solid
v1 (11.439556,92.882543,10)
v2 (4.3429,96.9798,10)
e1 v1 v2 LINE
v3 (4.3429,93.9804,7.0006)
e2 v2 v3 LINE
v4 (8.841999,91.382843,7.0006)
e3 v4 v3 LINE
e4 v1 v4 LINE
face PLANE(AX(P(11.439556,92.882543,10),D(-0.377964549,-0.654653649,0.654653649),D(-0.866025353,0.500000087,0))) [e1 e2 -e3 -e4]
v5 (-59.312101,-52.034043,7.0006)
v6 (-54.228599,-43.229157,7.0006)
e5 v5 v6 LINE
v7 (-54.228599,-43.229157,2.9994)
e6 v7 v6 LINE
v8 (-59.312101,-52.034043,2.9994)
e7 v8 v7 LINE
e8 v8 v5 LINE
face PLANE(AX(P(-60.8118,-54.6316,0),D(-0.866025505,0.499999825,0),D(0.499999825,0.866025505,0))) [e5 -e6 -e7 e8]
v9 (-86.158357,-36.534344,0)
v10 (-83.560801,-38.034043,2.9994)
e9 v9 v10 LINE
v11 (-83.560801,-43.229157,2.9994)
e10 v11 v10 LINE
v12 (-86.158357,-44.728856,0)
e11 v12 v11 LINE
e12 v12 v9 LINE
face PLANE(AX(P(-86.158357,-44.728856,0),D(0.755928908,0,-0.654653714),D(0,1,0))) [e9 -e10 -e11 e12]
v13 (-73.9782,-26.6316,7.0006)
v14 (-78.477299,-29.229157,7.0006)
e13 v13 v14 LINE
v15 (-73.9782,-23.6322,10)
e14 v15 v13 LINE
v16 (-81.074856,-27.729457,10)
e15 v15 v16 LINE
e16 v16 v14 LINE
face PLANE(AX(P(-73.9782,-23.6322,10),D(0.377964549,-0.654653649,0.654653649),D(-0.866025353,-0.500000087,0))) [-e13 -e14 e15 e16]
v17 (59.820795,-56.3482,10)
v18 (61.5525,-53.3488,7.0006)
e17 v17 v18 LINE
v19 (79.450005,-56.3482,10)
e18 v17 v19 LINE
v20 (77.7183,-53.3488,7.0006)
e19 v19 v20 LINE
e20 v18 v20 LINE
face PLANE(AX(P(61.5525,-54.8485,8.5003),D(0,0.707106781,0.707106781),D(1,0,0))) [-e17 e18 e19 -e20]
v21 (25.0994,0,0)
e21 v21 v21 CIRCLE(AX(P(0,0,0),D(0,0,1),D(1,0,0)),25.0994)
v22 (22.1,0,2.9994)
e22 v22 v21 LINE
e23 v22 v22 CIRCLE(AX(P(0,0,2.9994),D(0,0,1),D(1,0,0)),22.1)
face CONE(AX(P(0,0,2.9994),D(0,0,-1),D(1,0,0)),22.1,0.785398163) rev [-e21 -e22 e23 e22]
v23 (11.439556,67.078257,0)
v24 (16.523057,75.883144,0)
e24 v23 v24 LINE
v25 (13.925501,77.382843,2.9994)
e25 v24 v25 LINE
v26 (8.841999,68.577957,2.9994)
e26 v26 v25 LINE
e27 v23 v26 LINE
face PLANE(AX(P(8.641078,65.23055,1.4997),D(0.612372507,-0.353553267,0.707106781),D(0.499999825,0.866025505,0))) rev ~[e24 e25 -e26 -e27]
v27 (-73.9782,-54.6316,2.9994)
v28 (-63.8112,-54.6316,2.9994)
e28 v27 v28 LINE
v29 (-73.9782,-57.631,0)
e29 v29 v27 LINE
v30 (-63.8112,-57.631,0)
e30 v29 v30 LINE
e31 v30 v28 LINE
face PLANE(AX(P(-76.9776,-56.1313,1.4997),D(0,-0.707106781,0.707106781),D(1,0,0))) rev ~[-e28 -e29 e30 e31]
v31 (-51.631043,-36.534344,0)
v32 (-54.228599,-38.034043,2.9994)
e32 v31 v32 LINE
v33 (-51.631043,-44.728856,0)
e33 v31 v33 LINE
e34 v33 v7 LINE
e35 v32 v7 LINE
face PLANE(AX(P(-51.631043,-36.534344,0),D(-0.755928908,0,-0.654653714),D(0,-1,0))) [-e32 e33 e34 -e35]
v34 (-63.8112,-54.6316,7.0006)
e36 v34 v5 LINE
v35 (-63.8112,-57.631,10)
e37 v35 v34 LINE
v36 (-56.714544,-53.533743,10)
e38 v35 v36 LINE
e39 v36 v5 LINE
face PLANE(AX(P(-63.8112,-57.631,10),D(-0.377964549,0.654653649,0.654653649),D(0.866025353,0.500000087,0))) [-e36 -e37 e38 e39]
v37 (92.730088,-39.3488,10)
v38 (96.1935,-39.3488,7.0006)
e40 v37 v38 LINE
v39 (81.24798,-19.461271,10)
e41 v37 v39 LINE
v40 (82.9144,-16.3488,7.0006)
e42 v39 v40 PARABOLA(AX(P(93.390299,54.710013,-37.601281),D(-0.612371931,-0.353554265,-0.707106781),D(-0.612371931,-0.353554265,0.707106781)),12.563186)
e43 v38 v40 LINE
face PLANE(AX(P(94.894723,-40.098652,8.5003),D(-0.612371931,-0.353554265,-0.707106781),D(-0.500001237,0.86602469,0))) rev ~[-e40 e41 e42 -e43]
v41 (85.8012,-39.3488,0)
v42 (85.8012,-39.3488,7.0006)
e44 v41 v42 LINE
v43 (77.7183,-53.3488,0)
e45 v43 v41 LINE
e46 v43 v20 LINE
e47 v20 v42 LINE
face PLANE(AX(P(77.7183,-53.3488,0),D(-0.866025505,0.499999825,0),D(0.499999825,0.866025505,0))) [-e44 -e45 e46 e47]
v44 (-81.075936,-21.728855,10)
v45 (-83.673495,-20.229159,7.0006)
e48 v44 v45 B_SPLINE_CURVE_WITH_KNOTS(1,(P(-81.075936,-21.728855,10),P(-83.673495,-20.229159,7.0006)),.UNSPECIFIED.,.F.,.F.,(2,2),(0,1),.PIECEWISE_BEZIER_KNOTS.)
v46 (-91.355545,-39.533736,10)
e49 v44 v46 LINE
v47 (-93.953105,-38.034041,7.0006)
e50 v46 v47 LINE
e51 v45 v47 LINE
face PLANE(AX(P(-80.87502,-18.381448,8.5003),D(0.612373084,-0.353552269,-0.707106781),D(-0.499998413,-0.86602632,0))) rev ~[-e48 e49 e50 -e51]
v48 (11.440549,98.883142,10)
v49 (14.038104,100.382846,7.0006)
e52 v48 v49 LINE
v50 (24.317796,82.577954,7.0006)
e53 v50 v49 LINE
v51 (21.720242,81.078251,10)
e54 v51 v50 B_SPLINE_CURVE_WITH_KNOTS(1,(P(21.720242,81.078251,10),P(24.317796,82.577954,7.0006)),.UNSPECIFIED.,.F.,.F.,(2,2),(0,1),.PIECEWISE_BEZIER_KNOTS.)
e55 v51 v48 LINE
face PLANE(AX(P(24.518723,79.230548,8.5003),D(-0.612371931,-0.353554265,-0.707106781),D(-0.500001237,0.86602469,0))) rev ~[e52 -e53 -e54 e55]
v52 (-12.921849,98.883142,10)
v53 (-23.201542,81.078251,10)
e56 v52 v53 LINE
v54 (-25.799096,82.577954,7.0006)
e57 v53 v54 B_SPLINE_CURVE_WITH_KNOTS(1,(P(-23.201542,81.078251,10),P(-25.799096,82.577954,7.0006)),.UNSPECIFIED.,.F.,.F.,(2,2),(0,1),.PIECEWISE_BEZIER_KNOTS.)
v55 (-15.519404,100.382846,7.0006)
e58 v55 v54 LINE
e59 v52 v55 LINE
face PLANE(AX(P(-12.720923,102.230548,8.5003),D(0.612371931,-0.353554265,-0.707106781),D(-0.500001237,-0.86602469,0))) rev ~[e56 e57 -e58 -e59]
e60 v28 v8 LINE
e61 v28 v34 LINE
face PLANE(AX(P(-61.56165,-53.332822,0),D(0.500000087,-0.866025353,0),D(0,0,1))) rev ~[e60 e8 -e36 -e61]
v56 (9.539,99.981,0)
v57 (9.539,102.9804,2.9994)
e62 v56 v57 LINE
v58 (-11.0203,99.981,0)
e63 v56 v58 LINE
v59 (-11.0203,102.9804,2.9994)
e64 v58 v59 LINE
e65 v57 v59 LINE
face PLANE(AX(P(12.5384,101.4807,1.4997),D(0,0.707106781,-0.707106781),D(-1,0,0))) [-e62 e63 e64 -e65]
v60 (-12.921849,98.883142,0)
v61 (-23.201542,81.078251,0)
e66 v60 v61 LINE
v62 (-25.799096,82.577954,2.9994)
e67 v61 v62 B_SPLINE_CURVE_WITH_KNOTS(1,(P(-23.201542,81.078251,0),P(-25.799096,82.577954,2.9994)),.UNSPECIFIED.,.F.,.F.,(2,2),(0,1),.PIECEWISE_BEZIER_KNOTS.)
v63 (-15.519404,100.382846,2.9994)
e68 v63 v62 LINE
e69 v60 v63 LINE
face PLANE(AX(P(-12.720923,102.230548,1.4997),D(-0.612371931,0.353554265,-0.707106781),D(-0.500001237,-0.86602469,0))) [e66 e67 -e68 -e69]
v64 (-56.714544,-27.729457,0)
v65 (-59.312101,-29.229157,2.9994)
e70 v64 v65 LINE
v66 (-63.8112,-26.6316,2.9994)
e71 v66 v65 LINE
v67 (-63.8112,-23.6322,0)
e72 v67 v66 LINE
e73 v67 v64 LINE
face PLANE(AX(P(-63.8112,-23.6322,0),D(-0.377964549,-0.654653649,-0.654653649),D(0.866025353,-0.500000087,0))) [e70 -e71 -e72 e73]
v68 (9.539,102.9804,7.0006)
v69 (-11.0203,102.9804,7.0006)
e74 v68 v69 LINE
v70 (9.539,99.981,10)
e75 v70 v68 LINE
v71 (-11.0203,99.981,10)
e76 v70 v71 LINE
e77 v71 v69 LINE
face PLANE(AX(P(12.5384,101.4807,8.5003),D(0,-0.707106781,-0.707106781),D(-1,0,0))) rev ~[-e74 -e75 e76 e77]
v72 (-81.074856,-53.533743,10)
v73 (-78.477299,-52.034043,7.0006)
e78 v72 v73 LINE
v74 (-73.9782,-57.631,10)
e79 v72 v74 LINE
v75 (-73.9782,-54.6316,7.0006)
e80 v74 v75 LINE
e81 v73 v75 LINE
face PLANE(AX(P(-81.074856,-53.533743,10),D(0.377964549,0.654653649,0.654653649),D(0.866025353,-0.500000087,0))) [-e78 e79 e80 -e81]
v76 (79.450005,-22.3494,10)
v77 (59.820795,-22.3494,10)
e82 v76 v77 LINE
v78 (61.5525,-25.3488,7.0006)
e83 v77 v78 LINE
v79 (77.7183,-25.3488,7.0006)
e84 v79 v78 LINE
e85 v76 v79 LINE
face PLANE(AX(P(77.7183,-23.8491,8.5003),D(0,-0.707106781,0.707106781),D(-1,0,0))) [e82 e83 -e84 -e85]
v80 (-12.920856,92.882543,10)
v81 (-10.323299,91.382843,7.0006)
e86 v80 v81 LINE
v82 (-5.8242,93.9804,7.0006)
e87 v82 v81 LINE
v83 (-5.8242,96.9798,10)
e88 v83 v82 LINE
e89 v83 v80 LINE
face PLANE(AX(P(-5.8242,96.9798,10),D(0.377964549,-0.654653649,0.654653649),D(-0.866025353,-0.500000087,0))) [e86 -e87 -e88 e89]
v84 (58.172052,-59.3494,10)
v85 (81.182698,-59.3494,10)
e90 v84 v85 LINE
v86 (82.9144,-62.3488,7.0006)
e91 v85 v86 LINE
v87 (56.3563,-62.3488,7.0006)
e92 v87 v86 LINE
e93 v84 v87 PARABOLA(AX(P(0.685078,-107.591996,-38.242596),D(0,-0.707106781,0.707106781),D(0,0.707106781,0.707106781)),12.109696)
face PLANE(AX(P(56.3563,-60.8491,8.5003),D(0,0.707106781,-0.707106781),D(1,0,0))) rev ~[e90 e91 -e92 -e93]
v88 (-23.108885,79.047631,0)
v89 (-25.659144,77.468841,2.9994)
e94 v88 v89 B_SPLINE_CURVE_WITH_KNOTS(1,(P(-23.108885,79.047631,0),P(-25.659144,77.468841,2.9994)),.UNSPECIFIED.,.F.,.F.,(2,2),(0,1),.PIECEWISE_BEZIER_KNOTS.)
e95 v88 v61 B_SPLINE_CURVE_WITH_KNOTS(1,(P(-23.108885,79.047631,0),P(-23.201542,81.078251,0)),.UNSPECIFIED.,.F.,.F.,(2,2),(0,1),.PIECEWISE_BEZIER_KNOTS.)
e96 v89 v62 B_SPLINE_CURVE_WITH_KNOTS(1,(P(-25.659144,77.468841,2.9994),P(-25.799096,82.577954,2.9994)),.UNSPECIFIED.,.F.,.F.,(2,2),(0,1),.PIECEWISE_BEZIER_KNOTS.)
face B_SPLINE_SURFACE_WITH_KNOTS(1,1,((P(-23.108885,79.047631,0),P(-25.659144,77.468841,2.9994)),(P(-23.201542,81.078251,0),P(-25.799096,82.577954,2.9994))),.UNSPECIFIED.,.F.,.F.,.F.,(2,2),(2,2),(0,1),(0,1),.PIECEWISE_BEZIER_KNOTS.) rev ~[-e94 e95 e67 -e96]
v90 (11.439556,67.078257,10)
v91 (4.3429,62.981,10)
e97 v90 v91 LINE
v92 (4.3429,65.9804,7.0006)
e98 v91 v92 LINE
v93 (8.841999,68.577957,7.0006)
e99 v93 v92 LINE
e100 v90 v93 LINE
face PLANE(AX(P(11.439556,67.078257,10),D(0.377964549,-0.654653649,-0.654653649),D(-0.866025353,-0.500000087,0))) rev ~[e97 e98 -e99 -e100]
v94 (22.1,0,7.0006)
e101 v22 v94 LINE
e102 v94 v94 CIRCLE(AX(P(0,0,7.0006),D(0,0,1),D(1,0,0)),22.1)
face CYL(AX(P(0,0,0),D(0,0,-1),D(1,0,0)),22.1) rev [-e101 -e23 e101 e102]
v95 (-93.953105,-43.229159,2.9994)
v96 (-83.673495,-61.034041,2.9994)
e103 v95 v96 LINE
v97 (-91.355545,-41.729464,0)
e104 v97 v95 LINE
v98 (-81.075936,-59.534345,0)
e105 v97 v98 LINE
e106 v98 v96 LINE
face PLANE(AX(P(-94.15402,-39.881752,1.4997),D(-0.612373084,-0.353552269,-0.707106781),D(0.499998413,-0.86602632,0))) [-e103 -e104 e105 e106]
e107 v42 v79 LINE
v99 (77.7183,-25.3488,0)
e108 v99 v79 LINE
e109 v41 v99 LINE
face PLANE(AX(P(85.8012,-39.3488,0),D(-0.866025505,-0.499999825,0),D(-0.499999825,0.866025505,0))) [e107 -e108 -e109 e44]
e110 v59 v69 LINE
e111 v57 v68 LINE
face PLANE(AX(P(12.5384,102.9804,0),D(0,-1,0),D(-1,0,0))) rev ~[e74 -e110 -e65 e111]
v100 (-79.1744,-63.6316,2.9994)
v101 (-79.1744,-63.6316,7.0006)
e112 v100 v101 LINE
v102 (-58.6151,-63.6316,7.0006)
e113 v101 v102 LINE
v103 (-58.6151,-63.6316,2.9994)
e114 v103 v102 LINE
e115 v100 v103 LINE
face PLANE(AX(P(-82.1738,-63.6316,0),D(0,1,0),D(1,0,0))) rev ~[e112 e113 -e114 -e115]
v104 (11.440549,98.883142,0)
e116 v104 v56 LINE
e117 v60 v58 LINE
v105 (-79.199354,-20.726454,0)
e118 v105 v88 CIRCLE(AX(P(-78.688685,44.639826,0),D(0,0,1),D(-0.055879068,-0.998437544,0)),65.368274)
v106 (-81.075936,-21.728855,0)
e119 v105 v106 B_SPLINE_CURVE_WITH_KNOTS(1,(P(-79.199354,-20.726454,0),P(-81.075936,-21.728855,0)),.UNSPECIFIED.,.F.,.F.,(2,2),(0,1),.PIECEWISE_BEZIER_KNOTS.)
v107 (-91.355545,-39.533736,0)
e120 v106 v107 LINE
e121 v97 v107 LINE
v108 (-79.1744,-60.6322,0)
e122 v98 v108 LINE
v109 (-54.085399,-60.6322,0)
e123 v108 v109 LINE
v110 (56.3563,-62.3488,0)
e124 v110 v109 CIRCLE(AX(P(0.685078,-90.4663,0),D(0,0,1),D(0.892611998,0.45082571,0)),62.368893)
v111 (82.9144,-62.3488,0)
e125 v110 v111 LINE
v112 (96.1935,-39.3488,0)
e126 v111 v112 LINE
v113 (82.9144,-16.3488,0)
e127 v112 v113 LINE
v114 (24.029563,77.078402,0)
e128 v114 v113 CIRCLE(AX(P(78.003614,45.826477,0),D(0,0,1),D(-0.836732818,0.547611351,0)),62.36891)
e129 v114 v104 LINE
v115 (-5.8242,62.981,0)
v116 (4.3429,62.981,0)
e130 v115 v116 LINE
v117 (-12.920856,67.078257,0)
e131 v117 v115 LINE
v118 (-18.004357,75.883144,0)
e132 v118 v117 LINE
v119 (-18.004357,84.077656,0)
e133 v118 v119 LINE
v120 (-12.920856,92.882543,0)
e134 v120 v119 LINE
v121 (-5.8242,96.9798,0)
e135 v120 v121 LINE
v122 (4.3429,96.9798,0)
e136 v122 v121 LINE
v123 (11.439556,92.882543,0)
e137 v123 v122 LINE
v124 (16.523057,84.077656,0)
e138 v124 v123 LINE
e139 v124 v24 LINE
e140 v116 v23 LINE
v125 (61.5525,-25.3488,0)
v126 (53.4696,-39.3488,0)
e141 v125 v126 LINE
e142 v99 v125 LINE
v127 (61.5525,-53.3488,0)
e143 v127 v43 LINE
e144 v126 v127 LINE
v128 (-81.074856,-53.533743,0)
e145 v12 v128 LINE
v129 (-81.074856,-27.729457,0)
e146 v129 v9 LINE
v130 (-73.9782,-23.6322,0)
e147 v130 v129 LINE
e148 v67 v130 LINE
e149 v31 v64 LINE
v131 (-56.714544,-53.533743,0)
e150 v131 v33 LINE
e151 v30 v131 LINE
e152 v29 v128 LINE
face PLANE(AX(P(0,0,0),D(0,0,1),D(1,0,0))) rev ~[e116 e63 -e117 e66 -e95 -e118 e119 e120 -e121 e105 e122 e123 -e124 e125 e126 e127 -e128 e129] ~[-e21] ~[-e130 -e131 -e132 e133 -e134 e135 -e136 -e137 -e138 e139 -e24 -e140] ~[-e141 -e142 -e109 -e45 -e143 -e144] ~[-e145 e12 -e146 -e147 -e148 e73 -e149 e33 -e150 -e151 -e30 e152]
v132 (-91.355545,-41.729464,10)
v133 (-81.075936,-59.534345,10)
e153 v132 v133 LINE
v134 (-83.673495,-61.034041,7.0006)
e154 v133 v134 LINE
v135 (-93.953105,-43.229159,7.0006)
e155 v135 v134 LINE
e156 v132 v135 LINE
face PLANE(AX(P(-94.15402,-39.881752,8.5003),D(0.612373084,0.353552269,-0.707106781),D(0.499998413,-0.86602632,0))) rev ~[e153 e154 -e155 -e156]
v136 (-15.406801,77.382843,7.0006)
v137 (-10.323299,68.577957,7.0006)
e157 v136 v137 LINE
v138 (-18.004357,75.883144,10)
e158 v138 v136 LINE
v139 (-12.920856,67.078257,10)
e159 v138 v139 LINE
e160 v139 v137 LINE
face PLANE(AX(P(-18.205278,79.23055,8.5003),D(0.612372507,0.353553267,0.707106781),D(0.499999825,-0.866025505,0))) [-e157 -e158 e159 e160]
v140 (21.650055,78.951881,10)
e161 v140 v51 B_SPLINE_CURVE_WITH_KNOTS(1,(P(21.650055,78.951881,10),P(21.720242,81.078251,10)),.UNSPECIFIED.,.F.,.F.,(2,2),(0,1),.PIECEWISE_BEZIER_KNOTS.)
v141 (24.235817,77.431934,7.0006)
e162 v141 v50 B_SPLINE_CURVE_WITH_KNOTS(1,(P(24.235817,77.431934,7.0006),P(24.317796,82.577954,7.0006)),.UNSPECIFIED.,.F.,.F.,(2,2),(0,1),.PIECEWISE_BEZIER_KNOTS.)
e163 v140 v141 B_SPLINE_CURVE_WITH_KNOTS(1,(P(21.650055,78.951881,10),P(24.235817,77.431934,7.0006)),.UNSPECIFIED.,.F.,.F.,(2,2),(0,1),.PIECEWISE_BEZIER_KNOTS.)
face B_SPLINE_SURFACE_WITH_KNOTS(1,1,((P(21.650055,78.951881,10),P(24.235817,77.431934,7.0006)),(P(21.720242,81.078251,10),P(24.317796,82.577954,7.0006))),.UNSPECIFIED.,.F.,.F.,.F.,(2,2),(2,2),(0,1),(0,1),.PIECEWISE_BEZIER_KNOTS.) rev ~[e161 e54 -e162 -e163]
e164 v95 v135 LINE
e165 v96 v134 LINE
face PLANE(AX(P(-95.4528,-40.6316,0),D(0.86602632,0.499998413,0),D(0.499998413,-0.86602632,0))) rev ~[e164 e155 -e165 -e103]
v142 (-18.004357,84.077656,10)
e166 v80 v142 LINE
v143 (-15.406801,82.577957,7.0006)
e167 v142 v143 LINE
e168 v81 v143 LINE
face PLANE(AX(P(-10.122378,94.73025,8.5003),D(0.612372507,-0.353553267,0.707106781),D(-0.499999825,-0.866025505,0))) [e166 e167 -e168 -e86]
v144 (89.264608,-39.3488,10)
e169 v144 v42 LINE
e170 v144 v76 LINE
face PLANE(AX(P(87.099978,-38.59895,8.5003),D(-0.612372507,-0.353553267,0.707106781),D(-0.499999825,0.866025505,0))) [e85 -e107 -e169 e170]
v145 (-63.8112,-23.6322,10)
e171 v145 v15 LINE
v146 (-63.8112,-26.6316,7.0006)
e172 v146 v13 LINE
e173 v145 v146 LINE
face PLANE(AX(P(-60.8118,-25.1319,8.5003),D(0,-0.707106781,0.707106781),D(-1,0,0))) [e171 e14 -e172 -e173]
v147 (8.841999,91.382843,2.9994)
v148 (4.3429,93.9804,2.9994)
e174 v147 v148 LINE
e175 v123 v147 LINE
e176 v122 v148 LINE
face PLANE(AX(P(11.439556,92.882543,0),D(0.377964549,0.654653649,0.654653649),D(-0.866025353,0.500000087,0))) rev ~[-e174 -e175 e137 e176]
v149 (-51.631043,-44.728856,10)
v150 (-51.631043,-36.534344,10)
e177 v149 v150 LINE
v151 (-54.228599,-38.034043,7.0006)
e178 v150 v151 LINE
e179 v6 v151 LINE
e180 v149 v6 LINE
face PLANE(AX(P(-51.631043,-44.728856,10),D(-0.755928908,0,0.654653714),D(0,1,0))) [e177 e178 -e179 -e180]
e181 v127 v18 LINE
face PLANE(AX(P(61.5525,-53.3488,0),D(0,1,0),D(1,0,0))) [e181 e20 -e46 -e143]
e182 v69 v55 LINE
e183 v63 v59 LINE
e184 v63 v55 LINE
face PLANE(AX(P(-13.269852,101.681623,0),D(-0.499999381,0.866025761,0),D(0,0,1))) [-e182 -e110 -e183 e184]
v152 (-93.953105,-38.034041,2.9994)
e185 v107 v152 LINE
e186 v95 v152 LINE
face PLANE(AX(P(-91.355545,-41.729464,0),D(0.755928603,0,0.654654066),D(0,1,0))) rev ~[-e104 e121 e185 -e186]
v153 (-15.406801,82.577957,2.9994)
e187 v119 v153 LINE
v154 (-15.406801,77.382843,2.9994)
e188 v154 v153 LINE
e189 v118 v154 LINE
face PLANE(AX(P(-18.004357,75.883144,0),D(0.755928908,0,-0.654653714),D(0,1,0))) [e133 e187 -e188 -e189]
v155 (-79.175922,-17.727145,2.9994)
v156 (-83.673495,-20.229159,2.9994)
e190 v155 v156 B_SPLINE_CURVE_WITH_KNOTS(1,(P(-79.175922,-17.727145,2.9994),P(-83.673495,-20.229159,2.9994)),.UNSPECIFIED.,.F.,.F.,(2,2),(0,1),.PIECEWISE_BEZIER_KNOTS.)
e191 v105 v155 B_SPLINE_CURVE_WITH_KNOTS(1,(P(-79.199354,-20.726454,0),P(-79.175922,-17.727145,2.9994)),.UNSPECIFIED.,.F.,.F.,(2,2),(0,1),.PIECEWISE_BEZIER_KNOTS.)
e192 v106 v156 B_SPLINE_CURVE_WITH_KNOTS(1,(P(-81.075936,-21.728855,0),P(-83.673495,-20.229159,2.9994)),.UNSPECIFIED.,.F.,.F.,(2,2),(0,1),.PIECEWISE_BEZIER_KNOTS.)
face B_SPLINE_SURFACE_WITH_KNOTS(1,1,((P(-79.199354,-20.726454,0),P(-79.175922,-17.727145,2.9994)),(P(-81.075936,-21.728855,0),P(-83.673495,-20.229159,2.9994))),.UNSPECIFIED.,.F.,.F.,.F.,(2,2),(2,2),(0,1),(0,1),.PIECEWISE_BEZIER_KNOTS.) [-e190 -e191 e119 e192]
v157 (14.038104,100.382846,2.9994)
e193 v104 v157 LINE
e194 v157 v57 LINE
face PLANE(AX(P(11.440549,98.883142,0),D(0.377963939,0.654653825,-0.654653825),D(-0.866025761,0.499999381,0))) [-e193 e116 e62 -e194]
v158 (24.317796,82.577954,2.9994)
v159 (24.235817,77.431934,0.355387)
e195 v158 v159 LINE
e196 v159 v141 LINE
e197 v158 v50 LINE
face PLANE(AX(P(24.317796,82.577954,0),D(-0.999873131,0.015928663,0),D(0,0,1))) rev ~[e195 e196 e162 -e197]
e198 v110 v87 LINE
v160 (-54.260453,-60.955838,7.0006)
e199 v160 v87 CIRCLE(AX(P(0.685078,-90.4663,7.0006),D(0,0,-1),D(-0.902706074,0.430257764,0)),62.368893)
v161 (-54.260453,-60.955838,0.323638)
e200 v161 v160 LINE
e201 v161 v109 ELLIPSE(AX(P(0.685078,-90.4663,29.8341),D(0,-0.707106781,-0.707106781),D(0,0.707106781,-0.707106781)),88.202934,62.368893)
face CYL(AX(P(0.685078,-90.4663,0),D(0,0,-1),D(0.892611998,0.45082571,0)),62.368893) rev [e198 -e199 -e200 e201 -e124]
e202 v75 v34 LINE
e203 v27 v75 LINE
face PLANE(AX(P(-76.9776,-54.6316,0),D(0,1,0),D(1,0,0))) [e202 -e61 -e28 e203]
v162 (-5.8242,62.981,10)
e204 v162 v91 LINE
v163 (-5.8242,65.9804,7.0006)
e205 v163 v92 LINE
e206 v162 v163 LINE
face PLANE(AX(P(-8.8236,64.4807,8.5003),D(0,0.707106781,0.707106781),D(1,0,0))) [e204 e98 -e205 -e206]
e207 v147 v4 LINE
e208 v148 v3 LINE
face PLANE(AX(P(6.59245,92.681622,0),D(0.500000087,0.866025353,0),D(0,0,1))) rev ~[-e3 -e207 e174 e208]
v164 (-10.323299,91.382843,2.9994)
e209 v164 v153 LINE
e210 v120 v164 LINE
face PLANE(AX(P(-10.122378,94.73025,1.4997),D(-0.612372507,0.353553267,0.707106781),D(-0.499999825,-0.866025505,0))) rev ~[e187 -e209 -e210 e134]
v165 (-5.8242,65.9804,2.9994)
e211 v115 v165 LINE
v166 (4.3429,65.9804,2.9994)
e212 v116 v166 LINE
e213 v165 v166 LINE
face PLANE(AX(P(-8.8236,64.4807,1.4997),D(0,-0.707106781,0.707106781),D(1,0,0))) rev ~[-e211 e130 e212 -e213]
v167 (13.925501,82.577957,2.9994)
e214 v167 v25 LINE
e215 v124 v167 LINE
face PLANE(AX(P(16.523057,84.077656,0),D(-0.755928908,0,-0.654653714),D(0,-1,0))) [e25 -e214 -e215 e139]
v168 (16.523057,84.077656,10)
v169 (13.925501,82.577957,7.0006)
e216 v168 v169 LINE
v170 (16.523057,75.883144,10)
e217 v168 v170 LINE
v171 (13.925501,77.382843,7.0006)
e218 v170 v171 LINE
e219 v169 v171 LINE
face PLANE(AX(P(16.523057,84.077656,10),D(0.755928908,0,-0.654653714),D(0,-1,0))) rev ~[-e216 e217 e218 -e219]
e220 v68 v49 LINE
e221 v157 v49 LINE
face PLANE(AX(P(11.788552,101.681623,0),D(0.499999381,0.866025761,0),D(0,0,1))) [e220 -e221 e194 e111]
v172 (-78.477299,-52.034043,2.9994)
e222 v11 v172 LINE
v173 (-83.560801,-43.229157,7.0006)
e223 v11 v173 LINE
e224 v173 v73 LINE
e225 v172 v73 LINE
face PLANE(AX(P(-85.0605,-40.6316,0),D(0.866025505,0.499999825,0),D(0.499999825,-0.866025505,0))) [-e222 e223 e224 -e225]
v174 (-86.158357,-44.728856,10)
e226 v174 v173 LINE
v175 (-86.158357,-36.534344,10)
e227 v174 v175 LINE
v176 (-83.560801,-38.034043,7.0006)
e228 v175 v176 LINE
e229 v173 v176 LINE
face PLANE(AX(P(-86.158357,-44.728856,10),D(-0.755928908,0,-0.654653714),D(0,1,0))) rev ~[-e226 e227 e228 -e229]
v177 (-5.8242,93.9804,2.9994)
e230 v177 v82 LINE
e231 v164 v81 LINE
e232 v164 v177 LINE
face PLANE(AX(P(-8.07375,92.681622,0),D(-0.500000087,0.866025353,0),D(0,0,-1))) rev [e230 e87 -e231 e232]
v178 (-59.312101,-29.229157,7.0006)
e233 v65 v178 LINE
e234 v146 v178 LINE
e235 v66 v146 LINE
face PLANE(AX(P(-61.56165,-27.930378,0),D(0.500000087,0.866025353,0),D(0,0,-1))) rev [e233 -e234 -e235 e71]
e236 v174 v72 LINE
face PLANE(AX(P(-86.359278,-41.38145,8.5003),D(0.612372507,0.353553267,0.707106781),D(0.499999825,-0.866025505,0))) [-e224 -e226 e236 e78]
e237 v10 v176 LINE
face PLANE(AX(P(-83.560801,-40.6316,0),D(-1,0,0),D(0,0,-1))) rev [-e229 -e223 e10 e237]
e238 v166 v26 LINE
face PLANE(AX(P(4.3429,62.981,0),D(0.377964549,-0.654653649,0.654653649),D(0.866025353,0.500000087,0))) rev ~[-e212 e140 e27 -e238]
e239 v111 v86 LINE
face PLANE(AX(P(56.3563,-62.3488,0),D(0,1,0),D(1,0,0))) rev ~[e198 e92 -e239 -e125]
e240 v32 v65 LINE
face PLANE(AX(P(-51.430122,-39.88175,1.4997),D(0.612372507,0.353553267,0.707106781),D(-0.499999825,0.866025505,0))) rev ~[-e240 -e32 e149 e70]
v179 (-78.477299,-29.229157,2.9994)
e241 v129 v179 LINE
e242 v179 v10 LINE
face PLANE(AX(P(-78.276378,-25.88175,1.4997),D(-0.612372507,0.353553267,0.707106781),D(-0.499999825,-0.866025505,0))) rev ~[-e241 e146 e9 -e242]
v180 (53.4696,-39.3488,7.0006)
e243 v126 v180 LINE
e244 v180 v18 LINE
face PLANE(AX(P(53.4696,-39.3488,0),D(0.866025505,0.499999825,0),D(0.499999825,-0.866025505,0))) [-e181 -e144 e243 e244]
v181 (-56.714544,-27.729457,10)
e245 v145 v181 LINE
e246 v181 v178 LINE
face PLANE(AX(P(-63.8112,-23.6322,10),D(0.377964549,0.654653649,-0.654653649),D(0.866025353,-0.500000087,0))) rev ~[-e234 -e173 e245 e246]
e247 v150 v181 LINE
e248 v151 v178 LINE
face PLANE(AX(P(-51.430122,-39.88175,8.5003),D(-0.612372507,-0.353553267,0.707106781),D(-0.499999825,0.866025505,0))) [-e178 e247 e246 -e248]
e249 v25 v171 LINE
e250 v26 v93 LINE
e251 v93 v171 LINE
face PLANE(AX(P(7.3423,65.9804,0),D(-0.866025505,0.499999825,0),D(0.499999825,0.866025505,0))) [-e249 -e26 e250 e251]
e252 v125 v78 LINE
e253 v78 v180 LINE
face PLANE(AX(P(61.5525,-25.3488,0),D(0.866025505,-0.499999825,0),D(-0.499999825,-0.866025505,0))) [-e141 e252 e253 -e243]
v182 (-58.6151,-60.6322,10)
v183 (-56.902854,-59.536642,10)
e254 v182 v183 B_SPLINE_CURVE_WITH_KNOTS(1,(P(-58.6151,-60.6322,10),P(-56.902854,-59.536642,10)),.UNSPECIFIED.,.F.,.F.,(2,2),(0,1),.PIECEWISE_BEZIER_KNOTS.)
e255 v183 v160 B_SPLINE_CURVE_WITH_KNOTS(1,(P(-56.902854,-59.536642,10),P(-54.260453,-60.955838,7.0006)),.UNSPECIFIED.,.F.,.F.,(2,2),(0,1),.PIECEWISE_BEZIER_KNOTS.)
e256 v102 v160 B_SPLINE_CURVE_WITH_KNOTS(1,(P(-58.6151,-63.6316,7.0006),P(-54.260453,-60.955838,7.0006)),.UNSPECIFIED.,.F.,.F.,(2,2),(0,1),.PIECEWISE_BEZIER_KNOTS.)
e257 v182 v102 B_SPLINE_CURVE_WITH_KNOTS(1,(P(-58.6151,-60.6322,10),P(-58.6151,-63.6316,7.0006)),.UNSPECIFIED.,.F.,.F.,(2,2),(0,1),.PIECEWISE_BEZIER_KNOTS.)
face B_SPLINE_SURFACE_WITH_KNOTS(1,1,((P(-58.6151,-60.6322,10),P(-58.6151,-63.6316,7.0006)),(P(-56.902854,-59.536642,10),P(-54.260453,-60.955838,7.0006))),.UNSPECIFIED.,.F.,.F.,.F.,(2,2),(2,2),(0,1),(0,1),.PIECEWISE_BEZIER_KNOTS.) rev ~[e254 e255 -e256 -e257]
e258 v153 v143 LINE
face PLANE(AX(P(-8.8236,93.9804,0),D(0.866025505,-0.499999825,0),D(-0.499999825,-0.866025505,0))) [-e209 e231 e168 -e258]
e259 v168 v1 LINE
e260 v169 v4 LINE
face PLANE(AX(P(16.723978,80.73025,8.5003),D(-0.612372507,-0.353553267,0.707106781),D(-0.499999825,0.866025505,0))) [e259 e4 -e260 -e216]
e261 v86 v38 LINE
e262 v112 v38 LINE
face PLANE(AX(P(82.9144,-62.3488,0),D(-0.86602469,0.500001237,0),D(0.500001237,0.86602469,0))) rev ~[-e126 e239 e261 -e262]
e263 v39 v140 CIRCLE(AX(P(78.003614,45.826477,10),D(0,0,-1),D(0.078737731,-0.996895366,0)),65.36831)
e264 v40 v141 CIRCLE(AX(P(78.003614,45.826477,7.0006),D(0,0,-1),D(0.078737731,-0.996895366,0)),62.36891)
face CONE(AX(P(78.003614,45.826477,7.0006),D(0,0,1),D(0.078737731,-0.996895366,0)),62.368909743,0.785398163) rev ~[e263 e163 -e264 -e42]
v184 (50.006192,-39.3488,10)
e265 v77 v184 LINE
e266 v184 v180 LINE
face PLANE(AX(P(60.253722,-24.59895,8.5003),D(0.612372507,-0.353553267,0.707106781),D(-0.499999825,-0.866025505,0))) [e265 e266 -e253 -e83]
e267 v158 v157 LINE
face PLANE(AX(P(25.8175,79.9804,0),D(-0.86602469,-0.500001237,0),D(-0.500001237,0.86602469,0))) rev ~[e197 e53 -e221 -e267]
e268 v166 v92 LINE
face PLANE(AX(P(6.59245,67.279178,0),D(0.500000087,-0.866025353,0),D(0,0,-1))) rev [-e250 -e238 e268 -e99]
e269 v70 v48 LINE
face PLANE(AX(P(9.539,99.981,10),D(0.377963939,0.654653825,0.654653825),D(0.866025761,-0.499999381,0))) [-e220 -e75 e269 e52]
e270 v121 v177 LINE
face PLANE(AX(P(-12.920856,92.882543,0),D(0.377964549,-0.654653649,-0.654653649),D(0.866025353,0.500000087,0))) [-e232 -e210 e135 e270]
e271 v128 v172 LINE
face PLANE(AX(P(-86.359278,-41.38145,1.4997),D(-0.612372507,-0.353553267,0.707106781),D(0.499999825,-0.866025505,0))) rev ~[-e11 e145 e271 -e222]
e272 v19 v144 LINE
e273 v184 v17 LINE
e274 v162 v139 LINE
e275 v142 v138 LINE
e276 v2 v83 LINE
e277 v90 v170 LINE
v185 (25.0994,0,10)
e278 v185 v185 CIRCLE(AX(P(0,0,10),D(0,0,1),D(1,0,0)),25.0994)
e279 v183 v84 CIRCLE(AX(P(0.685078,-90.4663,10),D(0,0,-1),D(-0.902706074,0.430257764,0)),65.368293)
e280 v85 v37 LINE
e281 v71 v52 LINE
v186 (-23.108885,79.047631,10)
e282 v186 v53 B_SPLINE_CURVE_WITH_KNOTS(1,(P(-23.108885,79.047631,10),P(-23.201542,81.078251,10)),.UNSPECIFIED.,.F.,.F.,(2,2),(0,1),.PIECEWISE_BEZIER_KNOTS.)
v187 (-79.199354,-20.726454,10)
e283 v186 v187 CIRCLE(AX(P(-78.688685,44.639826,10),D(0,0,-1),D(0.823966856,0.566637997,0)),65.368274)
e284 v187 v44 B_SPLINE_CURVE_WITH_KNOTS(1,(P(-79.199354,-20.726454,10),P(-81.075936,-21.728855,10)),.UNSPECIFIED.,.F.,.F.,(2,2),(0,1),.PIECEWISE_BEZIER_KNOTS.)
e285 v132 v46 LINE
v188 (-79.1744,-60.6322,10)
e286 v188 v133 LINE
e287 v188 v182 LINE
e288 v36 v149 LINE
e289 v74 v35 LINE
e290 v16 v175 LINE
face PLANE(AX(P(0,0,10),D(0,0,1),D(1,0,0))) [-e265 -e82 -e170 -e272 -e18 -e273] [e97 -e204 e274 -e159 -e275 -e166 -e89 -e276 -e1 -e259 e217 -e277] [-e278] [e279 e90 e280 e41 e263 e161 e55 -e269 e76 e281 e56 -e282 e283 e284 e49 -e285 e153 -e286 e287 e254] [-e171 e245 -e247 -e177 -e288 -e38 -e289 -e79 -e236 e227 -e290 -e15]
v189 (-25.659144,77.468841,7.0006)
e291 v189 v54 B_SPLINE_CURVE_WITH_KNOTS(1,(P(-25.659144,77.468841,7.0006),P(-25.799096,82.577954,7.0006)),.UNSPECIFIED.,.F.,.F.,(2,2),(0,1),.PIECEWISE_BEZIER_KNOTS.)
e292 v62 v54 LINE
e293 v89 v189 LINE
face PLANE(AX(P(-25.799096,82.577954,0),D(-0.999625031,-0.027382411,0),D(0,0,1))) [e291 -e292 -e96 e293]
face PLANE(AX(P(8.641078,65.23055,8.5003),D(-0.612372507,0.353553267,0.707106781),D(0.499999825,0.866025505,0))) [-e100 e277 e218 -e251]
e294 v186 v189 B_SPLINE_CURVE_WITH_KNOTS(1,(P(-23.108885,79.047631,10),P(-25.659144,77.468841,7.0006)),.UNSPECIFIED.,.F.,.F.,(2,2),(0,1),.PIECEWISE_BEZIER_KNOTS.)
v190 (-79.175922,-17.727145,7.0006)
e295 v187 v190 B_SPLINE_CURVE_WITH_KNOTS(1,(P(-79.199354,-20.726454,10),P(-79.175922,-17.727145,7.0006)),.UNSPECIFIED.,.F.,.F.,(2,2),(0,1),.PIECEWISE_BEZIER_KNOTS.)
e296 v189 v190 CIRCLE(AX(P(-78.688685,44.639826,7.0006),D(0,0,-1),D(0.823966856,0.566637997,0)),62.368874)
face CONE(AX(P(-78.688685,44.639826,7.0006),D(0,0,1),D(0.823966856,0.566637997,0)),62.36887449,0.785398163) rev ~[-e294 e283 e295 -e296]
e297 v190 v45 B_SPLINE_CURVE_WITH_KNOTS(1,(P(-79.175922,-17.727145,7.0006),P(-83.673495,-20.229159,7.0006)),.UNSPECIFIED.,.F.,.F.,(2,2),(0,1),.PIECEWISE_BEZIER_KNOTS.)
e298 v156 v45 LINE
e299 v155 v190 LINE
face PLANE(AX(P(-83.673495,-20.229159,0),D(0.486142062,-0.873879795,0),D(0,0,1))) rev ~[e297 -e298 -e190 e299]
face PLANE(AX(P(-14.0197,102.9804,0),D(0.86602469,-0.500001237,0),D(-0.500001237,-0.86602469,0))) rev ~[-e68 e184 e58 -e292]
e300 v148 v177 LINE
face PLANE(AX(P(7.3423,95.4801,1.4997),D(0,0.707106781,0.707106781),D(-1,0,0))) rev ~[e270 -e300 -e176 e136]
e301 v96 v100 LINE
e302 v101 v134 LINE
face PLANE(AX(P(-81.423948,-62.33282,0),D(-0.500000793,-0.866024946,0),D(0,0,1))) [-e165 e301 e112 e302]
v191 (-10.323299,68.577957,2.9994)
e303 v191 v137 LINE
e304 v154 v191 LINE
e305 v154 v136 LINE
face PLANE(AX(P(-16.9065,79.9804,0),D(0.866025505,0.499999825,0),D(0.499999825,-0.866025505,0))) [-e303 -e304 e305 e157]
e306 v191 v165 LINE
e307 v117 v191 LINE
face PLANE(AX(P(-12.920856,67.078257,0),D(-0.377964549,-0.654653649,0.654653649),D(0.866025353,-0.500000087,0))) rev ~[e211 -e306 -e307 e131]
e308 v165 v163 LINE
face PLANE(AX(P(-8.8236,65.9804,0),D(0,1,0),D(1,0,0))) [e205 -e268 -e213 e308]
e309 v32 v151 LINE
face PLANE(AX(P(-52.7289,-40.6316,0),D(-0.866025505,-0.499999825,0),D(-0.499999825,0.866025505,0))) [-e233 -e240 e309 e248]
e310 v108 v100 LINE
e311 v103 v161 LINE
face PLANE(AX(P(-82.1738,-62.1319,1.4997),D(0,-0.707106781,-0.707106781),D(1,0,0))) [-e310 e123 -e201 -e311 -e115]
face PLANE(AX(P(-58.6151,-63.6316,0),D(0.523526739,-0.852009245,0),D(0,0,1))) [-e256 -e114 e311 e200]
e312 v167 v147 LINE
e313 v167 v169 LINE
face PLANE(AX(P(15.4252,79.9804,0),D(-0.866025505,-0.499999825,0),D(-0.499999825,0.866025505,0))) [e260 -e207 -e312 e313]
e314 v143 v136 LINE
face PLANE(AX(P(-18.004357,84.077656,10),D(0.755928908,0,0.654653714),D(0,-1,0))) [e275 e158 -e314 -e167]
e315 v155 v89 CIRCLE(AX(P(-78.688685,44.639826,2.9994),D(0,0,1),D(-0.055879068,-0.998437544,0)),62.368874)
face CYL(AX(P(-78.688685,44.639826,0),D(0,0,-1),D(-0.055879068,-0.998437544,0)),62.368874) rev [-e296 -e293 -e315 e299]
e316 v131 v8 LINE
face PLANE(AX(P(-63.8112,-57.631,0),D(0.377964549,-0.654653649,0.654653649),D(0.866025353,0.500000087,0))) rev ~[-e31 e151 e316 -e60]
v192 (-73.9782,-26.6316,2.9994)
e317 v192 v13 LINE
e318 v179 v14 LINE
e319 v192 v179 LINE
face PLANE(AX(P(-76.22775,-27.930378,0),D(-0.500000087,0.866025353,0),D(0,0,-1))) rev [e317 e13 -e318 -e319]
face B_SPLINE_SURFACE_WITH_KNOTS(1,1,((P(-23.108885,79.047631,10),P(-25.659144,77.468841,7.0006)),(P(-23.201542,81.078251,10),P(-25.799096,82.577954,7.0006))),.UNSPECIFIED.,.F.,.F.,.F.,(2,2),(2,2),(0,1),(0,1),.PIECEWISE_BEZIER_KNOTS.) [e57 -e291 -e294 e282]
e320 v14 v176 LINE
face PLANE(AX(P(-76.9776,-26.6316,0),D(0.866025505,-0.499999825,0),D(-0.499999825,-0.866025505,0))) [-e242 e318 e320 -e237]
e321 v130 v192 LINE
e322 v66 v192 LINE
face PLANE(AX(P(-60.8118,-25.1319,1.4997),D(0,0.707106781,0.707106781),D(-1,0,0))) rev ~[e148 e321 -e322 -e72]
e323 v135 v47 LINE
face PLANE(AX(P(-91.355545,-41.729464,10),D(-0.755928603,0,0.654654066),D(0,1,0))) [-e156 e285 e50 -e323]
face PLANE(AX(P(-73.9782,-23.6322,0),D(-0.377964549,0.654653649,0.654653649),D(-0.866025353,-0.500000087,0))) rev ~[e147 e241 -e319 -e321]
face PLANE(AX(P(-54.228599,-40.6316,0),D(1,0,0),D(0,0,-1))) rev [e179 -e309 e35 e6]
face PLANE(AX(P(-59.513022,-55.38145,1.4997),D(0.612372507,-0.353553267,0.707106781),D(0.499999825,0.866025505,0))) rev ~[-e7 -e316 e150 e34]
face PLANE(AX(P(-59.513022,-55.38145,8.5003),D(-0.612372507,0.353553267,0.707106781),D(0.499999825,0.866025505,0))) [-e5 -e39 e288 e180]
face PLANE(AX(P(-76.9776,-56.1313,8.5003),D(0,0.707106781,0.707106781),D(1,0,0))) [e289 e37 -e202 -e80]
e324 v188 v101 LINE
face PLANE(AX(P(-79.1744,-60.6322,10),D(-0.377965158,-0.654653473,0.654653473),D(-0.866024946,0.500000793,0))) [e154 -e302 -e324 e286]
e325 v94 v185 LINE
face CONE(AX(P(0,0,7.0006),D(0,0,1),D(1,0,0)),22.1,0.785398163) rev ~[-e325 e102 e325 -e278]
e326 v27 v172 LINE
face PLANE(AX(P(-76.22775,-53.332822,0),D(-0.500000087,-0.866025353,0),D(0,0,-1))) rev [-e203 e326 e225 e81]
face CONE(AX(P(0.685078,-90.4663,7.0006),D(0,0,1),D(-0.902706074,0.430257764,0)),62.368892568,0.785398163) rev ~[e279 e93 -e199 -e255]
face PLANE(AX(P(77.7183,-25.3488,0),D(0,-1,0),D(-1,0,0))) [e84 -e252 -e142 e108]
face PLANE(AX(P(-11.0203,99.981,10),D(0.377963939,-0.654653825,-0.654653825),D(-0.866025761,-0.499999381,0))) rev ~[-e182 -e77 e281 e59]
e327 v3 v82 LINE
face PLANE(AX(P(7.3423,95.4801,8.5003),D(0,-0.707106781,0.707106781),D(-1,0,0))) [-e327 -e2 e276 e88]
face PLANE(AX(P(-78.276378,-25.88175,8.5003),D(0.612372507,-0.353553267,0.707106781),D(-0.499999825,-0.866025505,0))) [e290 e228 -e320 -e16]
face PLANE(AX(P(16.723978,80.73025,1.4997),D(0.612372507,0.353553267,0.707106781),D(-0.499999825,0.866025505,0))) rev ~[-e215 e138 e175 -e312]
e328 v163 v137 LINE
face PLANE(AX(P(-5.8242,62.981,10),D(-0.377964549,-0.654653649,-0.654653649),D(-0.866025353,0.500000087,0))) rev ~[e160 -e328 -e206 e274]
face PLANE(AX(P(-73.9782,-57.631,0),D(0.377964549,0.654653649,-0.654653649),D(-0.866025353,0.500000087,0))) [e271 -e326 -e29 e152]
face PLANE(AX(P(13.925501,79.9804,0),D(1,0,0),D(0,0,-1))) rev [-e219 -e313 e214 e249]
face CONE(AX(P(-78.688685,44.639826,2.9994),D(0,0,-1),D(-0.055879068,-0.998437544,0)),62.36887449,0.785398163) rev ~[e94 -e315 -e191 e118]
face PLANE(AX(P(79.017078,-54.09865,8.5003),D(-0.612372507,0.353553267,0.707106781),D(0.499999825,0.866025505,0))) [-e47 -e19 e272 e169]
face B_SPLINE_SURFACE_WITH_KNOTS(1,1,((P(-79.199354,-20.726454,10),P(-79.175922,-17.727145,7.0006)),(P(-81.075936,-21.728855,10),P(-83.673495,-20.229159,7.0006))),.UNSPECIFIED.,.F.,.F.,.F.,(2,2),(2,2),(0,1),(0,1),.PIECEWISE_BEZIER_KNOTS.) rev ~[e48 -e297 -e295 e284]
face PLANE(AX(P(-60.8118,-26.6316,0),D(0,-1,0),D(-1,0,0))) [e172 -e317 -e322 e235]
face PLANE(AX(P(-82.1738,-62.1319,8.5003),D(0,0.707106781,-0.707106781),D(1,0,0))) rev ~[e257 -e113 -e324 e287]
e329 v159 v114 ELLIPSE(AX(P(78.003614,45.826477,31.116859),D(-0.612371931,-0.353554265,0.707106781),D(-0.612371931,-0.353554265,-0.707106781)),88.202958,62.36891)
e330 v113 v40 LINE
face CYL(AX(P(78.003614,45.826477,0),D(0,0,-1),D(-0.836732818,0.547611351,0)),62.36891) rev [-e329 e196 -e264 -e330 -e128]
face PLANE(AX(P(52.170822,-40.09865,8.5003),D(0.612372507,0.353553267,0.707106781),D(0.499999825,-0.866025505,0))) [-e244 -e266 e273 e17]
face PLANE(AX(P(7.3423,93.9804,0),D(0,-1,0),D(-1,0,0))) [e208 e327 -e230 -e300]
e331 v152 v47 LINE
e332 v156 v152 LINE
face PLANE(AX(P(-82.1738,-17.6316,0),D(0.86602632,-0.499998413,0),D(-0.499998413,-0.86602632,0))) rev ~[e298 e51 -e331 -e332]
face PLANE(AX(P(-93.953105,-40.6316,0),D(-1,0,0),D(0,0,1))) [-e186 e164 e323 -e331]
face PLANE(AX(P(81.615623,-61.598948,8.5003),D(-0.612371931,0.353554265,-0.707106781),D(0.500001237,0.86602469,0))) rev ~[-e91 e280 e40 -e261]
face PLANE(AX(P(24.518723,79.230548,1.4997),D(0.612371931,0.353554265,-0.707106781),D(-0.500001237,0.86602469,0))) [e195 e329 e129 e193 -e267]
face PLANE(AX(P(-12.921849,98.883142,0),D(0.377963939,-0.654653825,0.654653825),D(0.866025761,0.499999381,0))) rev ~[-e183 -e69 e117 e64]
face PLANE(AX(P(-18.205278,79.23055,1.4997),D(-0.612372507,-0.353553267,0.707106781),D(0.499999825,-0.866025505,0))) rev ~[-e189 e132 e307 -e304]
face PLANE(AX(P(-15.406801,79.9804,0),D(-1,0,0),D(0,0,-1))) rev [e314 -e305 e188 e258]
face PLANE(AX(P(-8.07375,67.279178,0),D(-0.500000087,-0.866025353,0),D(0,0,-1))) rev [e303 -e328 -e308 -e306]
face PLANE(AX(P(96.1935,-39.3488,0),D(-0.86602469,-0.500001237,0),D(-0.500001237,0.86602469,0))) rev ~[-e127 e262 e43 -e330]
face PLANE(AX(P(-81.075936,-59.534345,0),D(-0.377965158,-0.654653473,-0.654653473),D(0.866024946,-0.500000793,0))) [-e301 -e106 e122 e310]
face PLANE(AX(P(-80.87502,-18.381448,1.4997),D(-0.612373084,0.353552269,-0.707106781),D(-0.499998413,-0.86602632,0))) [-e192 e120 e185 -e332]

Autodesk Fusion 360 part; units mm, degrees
sketch "Sketch1" plane through (0, 0, 0) normal (0, 0, 1) x (1, 0, 0)
  circle A0 centre (0, 0) radius 22.1
  line L0 (7.3423, 93.9804) -> (-8.8236, 93.9804)
  line L1 (-8.8236, 93.9804) -> (-16.9065, 79.9804)
  line L2 (-16.9065, 79.9804) -> (-8.8236, 65.9804)
  line L3 (-8.8236, 65.9804) -> (7.3423, 65.9804)
  line L4 (7.3423, 65.9804) -> (15.4252, 79.9804)
  line L5 (15.4252, 79.9804) -> (7.3423, 93.9804)
  circle A1 centre (0, 0) radius 28.1
  line L6 (-14.0197, 102.9804) -> (-27.2988, 79.9804)
  line L7 (-27.2988, 79.9804) -> (-14.0197, 56.9804)
  line L8 (-14.0197, 56.9804) -> (12.5384, 56.9804)
  line L9 (12.5384, 56.9804) -> (25.8175, 79.9804)
  line L10 (25.8175, 79.9804) -> (12.5384, 102.9804)
  line L11 (12.5384, 102.9804) -> (-14.0197, 102.9804)
  line L12 (-55.6157, -63.6316) -> (-42.3366, -40.6316)
  line L13 (-42.3366, -40.6316) -> (-55.6157, -17.6316)
  line L14 (-55.6157, -17.6316) -> (-82.1738, -17.6316)
  line L15 (-82.1738, -17.6316) -> (-95.4528, -40.6316)
  line L16 (-82.1738, -63.6316) -> (-55.6157, -63.6316)
  line L17 (-95.4528, -40.6316) -> (-82.1738, -63.6316)
  line L18 (-60.8118, -54.6316) -> (-52.7289, -40.6316)
  line L19 (-52.7289, -40.6316) -> (-60.8118, -26.6316)
  line L20 (-60.8118, -26.6316) -> (-76.9776, -26.6316)
  line L21 (-76.9776, -26.6316) -> (-85.0605, -40.6316)
  line L22 (-76.9776, -54.6316) -> (-60.8118, -54.6316)
  line L23 (-85.0605, -40.6316) -> (-76.9776, -54.6316)
  line L24 (82.9144, -16.3488) -> (56.3563, -16.3488)
  line L25 (56.3563, -16.3488) -> (43.0773, -39.3488)
  line L26 (43.0773, -39.3488) -> (56.3563, -62.3488)
  line L27 (56.3563, -62.3488) -> (82.9144, -62.3488)
  line L28 (96.1935, -39.3488) -> (82.9144, -16.3488)
  line L29 (82.9144, -62.3488) -> (96.1935, -39.3488)
  line L30 (77.7183, -25.3488) -> (61.5525, -25.3488)
  line L31 (61.5525, -25.3488) -> (53.4696, -39.3488)
  line L32 (53.4696, -39.3488) -> (61.5525, -53.3488)
  line L33 (61.5525, -53.3488) -> (77.7183, -53.3488)
  line L34 (85.8012, -39.3488) -> (77.7183, -25.3488)
  line L35 (77.7183, -53.3488) -> (85.8012, -39.3488)
  arc A2 (25.8175, 79.9804) -> (82.9144, -16.3488) centre (78.0036, 45.8265) ccw
  arc A3 (56.3563, -62.3488) -> (-55.6157, -63.6316) centre (0.6851, -90.4663) ccw
  arc A4 (-82.1738, -17.6316) -> (-27.2988, 79.9804) centre (-78.6887, 44.6398) ccw
  point P0 (-0.7407, 79.9804)
  dimension "d16" = 44.2
  dimension "d17" = 14
  dimension "d18" = 6
  dimension "d19" = 9
  dimension "d21" = 360
extrude "Extrude1" add sketch "Sketch1" along normal blind 10 contours A1 | A1 L24 L25 L26 A2 A3 | A1 L7 L8 L9 A2 A4 | A1 L12 L13 L14 A3 A4 | L6 L7 L8 L9 L10 L11 A2 A4 | L24 L25 L26 L27 L28 L29 A2 A3 | L12 L13 L14 L15 L16 L17 A3 A4
chamfer "Chamfer1" distance 3 angle 45 71 edges at (-68.8947, -54.6316, 0) (-27.2988, 79.9804, 5) (-24.3219, 14.0762, 0) (-24.3219, 14.0762, 10) (-20.6592, 91.4804, 0) (-56.7704, -47.6316, 0) (-0.7407, 65.9804, 0) (-52.7289, -40.6316, 5) (-60.8118, -26.6316, 5) (-12.865, 72.9804, 10) (-16.9065, 79.9804, 5) (-68.8947, -54.6316, 10) (-68.8947, -26.6316, 0) (-0.7407, 102.9804, 0) (-8.8236, 65.9804, 5) (15.4252, 79.9804, 5) (-56.7704, -47.6316, 10) (7.3423, 93.9804, 5) (-81.0191, -47.6316, 0) (-12.865, 86.9804, 10) (11.3837, 86.9804, 0) (11.3837, 72.9804, 0) (-76.9776, -54.6316, 5) (-12.865, 72.9804, 0) (-0.7407, 93.9804, 0) (11.3837, 86.9804, 10) (-20.6044, 7.9917, 0) (-14.0197, 102.9804, 5) (-56.7704, -33.6316, 0) (-8.8236, 93.9804, 5) (-60.8118, -54.6316, 5) (-20.6044, 7.9917, 10) (-88.8133, -52.1316, 10) (-88.8133, -29.1316, 0) (-88.8133, -29.1316, 10) (-82.1738, -17.6316, 5) (19.1779, 91.4804, 10) (12.5384, 102.9804, 5) (-95.4528, -40.6316, 5) (-55.6157, -63.6316, 5) (-0.7407, 65.9804, 10) (-68.8947, -63.6316, 0) (-82.1738, -63.6316, 5) (25.8175, 79.9804, 5) (-68.8947, -63.6316, 10) (7.3423, 65.9804, 5) (-68.8947, -26.6316, 10) (-81.0191, -33.6316, 0) (-0.7407, 93.9804, 10) (19.1779, 91.4804, 0) (-88.8133, -52.1316, 0) (-81.0191, -47.6316, 10) (11.3837, 72.9804, 10) (-0.7407, 102.9804, 10) (-81.0191, -33.6316, 10) (-85.0605, -40.6316, 5) (-76.9776, -26.6316, 5) (-56.7704, -33.6316, 10) (-12.865, 86.9804, 0) (-20.6592, 91.4804, 10) (89.554, -27.8488, 10) (24.3513, 14.0253, 10) (69.6354, -25.3488, 10) (81.7597, -32.3488, 10) (81.7597, -46.3488, 10) (89.554, -50.8488, 10) (69.6354, -53.3488, 10) (57.511, -32.3488, 10) (57.511, -46.3488, 10) (69.6354, -62.3488, 10) (-0.0294, -28.1015, 10)
